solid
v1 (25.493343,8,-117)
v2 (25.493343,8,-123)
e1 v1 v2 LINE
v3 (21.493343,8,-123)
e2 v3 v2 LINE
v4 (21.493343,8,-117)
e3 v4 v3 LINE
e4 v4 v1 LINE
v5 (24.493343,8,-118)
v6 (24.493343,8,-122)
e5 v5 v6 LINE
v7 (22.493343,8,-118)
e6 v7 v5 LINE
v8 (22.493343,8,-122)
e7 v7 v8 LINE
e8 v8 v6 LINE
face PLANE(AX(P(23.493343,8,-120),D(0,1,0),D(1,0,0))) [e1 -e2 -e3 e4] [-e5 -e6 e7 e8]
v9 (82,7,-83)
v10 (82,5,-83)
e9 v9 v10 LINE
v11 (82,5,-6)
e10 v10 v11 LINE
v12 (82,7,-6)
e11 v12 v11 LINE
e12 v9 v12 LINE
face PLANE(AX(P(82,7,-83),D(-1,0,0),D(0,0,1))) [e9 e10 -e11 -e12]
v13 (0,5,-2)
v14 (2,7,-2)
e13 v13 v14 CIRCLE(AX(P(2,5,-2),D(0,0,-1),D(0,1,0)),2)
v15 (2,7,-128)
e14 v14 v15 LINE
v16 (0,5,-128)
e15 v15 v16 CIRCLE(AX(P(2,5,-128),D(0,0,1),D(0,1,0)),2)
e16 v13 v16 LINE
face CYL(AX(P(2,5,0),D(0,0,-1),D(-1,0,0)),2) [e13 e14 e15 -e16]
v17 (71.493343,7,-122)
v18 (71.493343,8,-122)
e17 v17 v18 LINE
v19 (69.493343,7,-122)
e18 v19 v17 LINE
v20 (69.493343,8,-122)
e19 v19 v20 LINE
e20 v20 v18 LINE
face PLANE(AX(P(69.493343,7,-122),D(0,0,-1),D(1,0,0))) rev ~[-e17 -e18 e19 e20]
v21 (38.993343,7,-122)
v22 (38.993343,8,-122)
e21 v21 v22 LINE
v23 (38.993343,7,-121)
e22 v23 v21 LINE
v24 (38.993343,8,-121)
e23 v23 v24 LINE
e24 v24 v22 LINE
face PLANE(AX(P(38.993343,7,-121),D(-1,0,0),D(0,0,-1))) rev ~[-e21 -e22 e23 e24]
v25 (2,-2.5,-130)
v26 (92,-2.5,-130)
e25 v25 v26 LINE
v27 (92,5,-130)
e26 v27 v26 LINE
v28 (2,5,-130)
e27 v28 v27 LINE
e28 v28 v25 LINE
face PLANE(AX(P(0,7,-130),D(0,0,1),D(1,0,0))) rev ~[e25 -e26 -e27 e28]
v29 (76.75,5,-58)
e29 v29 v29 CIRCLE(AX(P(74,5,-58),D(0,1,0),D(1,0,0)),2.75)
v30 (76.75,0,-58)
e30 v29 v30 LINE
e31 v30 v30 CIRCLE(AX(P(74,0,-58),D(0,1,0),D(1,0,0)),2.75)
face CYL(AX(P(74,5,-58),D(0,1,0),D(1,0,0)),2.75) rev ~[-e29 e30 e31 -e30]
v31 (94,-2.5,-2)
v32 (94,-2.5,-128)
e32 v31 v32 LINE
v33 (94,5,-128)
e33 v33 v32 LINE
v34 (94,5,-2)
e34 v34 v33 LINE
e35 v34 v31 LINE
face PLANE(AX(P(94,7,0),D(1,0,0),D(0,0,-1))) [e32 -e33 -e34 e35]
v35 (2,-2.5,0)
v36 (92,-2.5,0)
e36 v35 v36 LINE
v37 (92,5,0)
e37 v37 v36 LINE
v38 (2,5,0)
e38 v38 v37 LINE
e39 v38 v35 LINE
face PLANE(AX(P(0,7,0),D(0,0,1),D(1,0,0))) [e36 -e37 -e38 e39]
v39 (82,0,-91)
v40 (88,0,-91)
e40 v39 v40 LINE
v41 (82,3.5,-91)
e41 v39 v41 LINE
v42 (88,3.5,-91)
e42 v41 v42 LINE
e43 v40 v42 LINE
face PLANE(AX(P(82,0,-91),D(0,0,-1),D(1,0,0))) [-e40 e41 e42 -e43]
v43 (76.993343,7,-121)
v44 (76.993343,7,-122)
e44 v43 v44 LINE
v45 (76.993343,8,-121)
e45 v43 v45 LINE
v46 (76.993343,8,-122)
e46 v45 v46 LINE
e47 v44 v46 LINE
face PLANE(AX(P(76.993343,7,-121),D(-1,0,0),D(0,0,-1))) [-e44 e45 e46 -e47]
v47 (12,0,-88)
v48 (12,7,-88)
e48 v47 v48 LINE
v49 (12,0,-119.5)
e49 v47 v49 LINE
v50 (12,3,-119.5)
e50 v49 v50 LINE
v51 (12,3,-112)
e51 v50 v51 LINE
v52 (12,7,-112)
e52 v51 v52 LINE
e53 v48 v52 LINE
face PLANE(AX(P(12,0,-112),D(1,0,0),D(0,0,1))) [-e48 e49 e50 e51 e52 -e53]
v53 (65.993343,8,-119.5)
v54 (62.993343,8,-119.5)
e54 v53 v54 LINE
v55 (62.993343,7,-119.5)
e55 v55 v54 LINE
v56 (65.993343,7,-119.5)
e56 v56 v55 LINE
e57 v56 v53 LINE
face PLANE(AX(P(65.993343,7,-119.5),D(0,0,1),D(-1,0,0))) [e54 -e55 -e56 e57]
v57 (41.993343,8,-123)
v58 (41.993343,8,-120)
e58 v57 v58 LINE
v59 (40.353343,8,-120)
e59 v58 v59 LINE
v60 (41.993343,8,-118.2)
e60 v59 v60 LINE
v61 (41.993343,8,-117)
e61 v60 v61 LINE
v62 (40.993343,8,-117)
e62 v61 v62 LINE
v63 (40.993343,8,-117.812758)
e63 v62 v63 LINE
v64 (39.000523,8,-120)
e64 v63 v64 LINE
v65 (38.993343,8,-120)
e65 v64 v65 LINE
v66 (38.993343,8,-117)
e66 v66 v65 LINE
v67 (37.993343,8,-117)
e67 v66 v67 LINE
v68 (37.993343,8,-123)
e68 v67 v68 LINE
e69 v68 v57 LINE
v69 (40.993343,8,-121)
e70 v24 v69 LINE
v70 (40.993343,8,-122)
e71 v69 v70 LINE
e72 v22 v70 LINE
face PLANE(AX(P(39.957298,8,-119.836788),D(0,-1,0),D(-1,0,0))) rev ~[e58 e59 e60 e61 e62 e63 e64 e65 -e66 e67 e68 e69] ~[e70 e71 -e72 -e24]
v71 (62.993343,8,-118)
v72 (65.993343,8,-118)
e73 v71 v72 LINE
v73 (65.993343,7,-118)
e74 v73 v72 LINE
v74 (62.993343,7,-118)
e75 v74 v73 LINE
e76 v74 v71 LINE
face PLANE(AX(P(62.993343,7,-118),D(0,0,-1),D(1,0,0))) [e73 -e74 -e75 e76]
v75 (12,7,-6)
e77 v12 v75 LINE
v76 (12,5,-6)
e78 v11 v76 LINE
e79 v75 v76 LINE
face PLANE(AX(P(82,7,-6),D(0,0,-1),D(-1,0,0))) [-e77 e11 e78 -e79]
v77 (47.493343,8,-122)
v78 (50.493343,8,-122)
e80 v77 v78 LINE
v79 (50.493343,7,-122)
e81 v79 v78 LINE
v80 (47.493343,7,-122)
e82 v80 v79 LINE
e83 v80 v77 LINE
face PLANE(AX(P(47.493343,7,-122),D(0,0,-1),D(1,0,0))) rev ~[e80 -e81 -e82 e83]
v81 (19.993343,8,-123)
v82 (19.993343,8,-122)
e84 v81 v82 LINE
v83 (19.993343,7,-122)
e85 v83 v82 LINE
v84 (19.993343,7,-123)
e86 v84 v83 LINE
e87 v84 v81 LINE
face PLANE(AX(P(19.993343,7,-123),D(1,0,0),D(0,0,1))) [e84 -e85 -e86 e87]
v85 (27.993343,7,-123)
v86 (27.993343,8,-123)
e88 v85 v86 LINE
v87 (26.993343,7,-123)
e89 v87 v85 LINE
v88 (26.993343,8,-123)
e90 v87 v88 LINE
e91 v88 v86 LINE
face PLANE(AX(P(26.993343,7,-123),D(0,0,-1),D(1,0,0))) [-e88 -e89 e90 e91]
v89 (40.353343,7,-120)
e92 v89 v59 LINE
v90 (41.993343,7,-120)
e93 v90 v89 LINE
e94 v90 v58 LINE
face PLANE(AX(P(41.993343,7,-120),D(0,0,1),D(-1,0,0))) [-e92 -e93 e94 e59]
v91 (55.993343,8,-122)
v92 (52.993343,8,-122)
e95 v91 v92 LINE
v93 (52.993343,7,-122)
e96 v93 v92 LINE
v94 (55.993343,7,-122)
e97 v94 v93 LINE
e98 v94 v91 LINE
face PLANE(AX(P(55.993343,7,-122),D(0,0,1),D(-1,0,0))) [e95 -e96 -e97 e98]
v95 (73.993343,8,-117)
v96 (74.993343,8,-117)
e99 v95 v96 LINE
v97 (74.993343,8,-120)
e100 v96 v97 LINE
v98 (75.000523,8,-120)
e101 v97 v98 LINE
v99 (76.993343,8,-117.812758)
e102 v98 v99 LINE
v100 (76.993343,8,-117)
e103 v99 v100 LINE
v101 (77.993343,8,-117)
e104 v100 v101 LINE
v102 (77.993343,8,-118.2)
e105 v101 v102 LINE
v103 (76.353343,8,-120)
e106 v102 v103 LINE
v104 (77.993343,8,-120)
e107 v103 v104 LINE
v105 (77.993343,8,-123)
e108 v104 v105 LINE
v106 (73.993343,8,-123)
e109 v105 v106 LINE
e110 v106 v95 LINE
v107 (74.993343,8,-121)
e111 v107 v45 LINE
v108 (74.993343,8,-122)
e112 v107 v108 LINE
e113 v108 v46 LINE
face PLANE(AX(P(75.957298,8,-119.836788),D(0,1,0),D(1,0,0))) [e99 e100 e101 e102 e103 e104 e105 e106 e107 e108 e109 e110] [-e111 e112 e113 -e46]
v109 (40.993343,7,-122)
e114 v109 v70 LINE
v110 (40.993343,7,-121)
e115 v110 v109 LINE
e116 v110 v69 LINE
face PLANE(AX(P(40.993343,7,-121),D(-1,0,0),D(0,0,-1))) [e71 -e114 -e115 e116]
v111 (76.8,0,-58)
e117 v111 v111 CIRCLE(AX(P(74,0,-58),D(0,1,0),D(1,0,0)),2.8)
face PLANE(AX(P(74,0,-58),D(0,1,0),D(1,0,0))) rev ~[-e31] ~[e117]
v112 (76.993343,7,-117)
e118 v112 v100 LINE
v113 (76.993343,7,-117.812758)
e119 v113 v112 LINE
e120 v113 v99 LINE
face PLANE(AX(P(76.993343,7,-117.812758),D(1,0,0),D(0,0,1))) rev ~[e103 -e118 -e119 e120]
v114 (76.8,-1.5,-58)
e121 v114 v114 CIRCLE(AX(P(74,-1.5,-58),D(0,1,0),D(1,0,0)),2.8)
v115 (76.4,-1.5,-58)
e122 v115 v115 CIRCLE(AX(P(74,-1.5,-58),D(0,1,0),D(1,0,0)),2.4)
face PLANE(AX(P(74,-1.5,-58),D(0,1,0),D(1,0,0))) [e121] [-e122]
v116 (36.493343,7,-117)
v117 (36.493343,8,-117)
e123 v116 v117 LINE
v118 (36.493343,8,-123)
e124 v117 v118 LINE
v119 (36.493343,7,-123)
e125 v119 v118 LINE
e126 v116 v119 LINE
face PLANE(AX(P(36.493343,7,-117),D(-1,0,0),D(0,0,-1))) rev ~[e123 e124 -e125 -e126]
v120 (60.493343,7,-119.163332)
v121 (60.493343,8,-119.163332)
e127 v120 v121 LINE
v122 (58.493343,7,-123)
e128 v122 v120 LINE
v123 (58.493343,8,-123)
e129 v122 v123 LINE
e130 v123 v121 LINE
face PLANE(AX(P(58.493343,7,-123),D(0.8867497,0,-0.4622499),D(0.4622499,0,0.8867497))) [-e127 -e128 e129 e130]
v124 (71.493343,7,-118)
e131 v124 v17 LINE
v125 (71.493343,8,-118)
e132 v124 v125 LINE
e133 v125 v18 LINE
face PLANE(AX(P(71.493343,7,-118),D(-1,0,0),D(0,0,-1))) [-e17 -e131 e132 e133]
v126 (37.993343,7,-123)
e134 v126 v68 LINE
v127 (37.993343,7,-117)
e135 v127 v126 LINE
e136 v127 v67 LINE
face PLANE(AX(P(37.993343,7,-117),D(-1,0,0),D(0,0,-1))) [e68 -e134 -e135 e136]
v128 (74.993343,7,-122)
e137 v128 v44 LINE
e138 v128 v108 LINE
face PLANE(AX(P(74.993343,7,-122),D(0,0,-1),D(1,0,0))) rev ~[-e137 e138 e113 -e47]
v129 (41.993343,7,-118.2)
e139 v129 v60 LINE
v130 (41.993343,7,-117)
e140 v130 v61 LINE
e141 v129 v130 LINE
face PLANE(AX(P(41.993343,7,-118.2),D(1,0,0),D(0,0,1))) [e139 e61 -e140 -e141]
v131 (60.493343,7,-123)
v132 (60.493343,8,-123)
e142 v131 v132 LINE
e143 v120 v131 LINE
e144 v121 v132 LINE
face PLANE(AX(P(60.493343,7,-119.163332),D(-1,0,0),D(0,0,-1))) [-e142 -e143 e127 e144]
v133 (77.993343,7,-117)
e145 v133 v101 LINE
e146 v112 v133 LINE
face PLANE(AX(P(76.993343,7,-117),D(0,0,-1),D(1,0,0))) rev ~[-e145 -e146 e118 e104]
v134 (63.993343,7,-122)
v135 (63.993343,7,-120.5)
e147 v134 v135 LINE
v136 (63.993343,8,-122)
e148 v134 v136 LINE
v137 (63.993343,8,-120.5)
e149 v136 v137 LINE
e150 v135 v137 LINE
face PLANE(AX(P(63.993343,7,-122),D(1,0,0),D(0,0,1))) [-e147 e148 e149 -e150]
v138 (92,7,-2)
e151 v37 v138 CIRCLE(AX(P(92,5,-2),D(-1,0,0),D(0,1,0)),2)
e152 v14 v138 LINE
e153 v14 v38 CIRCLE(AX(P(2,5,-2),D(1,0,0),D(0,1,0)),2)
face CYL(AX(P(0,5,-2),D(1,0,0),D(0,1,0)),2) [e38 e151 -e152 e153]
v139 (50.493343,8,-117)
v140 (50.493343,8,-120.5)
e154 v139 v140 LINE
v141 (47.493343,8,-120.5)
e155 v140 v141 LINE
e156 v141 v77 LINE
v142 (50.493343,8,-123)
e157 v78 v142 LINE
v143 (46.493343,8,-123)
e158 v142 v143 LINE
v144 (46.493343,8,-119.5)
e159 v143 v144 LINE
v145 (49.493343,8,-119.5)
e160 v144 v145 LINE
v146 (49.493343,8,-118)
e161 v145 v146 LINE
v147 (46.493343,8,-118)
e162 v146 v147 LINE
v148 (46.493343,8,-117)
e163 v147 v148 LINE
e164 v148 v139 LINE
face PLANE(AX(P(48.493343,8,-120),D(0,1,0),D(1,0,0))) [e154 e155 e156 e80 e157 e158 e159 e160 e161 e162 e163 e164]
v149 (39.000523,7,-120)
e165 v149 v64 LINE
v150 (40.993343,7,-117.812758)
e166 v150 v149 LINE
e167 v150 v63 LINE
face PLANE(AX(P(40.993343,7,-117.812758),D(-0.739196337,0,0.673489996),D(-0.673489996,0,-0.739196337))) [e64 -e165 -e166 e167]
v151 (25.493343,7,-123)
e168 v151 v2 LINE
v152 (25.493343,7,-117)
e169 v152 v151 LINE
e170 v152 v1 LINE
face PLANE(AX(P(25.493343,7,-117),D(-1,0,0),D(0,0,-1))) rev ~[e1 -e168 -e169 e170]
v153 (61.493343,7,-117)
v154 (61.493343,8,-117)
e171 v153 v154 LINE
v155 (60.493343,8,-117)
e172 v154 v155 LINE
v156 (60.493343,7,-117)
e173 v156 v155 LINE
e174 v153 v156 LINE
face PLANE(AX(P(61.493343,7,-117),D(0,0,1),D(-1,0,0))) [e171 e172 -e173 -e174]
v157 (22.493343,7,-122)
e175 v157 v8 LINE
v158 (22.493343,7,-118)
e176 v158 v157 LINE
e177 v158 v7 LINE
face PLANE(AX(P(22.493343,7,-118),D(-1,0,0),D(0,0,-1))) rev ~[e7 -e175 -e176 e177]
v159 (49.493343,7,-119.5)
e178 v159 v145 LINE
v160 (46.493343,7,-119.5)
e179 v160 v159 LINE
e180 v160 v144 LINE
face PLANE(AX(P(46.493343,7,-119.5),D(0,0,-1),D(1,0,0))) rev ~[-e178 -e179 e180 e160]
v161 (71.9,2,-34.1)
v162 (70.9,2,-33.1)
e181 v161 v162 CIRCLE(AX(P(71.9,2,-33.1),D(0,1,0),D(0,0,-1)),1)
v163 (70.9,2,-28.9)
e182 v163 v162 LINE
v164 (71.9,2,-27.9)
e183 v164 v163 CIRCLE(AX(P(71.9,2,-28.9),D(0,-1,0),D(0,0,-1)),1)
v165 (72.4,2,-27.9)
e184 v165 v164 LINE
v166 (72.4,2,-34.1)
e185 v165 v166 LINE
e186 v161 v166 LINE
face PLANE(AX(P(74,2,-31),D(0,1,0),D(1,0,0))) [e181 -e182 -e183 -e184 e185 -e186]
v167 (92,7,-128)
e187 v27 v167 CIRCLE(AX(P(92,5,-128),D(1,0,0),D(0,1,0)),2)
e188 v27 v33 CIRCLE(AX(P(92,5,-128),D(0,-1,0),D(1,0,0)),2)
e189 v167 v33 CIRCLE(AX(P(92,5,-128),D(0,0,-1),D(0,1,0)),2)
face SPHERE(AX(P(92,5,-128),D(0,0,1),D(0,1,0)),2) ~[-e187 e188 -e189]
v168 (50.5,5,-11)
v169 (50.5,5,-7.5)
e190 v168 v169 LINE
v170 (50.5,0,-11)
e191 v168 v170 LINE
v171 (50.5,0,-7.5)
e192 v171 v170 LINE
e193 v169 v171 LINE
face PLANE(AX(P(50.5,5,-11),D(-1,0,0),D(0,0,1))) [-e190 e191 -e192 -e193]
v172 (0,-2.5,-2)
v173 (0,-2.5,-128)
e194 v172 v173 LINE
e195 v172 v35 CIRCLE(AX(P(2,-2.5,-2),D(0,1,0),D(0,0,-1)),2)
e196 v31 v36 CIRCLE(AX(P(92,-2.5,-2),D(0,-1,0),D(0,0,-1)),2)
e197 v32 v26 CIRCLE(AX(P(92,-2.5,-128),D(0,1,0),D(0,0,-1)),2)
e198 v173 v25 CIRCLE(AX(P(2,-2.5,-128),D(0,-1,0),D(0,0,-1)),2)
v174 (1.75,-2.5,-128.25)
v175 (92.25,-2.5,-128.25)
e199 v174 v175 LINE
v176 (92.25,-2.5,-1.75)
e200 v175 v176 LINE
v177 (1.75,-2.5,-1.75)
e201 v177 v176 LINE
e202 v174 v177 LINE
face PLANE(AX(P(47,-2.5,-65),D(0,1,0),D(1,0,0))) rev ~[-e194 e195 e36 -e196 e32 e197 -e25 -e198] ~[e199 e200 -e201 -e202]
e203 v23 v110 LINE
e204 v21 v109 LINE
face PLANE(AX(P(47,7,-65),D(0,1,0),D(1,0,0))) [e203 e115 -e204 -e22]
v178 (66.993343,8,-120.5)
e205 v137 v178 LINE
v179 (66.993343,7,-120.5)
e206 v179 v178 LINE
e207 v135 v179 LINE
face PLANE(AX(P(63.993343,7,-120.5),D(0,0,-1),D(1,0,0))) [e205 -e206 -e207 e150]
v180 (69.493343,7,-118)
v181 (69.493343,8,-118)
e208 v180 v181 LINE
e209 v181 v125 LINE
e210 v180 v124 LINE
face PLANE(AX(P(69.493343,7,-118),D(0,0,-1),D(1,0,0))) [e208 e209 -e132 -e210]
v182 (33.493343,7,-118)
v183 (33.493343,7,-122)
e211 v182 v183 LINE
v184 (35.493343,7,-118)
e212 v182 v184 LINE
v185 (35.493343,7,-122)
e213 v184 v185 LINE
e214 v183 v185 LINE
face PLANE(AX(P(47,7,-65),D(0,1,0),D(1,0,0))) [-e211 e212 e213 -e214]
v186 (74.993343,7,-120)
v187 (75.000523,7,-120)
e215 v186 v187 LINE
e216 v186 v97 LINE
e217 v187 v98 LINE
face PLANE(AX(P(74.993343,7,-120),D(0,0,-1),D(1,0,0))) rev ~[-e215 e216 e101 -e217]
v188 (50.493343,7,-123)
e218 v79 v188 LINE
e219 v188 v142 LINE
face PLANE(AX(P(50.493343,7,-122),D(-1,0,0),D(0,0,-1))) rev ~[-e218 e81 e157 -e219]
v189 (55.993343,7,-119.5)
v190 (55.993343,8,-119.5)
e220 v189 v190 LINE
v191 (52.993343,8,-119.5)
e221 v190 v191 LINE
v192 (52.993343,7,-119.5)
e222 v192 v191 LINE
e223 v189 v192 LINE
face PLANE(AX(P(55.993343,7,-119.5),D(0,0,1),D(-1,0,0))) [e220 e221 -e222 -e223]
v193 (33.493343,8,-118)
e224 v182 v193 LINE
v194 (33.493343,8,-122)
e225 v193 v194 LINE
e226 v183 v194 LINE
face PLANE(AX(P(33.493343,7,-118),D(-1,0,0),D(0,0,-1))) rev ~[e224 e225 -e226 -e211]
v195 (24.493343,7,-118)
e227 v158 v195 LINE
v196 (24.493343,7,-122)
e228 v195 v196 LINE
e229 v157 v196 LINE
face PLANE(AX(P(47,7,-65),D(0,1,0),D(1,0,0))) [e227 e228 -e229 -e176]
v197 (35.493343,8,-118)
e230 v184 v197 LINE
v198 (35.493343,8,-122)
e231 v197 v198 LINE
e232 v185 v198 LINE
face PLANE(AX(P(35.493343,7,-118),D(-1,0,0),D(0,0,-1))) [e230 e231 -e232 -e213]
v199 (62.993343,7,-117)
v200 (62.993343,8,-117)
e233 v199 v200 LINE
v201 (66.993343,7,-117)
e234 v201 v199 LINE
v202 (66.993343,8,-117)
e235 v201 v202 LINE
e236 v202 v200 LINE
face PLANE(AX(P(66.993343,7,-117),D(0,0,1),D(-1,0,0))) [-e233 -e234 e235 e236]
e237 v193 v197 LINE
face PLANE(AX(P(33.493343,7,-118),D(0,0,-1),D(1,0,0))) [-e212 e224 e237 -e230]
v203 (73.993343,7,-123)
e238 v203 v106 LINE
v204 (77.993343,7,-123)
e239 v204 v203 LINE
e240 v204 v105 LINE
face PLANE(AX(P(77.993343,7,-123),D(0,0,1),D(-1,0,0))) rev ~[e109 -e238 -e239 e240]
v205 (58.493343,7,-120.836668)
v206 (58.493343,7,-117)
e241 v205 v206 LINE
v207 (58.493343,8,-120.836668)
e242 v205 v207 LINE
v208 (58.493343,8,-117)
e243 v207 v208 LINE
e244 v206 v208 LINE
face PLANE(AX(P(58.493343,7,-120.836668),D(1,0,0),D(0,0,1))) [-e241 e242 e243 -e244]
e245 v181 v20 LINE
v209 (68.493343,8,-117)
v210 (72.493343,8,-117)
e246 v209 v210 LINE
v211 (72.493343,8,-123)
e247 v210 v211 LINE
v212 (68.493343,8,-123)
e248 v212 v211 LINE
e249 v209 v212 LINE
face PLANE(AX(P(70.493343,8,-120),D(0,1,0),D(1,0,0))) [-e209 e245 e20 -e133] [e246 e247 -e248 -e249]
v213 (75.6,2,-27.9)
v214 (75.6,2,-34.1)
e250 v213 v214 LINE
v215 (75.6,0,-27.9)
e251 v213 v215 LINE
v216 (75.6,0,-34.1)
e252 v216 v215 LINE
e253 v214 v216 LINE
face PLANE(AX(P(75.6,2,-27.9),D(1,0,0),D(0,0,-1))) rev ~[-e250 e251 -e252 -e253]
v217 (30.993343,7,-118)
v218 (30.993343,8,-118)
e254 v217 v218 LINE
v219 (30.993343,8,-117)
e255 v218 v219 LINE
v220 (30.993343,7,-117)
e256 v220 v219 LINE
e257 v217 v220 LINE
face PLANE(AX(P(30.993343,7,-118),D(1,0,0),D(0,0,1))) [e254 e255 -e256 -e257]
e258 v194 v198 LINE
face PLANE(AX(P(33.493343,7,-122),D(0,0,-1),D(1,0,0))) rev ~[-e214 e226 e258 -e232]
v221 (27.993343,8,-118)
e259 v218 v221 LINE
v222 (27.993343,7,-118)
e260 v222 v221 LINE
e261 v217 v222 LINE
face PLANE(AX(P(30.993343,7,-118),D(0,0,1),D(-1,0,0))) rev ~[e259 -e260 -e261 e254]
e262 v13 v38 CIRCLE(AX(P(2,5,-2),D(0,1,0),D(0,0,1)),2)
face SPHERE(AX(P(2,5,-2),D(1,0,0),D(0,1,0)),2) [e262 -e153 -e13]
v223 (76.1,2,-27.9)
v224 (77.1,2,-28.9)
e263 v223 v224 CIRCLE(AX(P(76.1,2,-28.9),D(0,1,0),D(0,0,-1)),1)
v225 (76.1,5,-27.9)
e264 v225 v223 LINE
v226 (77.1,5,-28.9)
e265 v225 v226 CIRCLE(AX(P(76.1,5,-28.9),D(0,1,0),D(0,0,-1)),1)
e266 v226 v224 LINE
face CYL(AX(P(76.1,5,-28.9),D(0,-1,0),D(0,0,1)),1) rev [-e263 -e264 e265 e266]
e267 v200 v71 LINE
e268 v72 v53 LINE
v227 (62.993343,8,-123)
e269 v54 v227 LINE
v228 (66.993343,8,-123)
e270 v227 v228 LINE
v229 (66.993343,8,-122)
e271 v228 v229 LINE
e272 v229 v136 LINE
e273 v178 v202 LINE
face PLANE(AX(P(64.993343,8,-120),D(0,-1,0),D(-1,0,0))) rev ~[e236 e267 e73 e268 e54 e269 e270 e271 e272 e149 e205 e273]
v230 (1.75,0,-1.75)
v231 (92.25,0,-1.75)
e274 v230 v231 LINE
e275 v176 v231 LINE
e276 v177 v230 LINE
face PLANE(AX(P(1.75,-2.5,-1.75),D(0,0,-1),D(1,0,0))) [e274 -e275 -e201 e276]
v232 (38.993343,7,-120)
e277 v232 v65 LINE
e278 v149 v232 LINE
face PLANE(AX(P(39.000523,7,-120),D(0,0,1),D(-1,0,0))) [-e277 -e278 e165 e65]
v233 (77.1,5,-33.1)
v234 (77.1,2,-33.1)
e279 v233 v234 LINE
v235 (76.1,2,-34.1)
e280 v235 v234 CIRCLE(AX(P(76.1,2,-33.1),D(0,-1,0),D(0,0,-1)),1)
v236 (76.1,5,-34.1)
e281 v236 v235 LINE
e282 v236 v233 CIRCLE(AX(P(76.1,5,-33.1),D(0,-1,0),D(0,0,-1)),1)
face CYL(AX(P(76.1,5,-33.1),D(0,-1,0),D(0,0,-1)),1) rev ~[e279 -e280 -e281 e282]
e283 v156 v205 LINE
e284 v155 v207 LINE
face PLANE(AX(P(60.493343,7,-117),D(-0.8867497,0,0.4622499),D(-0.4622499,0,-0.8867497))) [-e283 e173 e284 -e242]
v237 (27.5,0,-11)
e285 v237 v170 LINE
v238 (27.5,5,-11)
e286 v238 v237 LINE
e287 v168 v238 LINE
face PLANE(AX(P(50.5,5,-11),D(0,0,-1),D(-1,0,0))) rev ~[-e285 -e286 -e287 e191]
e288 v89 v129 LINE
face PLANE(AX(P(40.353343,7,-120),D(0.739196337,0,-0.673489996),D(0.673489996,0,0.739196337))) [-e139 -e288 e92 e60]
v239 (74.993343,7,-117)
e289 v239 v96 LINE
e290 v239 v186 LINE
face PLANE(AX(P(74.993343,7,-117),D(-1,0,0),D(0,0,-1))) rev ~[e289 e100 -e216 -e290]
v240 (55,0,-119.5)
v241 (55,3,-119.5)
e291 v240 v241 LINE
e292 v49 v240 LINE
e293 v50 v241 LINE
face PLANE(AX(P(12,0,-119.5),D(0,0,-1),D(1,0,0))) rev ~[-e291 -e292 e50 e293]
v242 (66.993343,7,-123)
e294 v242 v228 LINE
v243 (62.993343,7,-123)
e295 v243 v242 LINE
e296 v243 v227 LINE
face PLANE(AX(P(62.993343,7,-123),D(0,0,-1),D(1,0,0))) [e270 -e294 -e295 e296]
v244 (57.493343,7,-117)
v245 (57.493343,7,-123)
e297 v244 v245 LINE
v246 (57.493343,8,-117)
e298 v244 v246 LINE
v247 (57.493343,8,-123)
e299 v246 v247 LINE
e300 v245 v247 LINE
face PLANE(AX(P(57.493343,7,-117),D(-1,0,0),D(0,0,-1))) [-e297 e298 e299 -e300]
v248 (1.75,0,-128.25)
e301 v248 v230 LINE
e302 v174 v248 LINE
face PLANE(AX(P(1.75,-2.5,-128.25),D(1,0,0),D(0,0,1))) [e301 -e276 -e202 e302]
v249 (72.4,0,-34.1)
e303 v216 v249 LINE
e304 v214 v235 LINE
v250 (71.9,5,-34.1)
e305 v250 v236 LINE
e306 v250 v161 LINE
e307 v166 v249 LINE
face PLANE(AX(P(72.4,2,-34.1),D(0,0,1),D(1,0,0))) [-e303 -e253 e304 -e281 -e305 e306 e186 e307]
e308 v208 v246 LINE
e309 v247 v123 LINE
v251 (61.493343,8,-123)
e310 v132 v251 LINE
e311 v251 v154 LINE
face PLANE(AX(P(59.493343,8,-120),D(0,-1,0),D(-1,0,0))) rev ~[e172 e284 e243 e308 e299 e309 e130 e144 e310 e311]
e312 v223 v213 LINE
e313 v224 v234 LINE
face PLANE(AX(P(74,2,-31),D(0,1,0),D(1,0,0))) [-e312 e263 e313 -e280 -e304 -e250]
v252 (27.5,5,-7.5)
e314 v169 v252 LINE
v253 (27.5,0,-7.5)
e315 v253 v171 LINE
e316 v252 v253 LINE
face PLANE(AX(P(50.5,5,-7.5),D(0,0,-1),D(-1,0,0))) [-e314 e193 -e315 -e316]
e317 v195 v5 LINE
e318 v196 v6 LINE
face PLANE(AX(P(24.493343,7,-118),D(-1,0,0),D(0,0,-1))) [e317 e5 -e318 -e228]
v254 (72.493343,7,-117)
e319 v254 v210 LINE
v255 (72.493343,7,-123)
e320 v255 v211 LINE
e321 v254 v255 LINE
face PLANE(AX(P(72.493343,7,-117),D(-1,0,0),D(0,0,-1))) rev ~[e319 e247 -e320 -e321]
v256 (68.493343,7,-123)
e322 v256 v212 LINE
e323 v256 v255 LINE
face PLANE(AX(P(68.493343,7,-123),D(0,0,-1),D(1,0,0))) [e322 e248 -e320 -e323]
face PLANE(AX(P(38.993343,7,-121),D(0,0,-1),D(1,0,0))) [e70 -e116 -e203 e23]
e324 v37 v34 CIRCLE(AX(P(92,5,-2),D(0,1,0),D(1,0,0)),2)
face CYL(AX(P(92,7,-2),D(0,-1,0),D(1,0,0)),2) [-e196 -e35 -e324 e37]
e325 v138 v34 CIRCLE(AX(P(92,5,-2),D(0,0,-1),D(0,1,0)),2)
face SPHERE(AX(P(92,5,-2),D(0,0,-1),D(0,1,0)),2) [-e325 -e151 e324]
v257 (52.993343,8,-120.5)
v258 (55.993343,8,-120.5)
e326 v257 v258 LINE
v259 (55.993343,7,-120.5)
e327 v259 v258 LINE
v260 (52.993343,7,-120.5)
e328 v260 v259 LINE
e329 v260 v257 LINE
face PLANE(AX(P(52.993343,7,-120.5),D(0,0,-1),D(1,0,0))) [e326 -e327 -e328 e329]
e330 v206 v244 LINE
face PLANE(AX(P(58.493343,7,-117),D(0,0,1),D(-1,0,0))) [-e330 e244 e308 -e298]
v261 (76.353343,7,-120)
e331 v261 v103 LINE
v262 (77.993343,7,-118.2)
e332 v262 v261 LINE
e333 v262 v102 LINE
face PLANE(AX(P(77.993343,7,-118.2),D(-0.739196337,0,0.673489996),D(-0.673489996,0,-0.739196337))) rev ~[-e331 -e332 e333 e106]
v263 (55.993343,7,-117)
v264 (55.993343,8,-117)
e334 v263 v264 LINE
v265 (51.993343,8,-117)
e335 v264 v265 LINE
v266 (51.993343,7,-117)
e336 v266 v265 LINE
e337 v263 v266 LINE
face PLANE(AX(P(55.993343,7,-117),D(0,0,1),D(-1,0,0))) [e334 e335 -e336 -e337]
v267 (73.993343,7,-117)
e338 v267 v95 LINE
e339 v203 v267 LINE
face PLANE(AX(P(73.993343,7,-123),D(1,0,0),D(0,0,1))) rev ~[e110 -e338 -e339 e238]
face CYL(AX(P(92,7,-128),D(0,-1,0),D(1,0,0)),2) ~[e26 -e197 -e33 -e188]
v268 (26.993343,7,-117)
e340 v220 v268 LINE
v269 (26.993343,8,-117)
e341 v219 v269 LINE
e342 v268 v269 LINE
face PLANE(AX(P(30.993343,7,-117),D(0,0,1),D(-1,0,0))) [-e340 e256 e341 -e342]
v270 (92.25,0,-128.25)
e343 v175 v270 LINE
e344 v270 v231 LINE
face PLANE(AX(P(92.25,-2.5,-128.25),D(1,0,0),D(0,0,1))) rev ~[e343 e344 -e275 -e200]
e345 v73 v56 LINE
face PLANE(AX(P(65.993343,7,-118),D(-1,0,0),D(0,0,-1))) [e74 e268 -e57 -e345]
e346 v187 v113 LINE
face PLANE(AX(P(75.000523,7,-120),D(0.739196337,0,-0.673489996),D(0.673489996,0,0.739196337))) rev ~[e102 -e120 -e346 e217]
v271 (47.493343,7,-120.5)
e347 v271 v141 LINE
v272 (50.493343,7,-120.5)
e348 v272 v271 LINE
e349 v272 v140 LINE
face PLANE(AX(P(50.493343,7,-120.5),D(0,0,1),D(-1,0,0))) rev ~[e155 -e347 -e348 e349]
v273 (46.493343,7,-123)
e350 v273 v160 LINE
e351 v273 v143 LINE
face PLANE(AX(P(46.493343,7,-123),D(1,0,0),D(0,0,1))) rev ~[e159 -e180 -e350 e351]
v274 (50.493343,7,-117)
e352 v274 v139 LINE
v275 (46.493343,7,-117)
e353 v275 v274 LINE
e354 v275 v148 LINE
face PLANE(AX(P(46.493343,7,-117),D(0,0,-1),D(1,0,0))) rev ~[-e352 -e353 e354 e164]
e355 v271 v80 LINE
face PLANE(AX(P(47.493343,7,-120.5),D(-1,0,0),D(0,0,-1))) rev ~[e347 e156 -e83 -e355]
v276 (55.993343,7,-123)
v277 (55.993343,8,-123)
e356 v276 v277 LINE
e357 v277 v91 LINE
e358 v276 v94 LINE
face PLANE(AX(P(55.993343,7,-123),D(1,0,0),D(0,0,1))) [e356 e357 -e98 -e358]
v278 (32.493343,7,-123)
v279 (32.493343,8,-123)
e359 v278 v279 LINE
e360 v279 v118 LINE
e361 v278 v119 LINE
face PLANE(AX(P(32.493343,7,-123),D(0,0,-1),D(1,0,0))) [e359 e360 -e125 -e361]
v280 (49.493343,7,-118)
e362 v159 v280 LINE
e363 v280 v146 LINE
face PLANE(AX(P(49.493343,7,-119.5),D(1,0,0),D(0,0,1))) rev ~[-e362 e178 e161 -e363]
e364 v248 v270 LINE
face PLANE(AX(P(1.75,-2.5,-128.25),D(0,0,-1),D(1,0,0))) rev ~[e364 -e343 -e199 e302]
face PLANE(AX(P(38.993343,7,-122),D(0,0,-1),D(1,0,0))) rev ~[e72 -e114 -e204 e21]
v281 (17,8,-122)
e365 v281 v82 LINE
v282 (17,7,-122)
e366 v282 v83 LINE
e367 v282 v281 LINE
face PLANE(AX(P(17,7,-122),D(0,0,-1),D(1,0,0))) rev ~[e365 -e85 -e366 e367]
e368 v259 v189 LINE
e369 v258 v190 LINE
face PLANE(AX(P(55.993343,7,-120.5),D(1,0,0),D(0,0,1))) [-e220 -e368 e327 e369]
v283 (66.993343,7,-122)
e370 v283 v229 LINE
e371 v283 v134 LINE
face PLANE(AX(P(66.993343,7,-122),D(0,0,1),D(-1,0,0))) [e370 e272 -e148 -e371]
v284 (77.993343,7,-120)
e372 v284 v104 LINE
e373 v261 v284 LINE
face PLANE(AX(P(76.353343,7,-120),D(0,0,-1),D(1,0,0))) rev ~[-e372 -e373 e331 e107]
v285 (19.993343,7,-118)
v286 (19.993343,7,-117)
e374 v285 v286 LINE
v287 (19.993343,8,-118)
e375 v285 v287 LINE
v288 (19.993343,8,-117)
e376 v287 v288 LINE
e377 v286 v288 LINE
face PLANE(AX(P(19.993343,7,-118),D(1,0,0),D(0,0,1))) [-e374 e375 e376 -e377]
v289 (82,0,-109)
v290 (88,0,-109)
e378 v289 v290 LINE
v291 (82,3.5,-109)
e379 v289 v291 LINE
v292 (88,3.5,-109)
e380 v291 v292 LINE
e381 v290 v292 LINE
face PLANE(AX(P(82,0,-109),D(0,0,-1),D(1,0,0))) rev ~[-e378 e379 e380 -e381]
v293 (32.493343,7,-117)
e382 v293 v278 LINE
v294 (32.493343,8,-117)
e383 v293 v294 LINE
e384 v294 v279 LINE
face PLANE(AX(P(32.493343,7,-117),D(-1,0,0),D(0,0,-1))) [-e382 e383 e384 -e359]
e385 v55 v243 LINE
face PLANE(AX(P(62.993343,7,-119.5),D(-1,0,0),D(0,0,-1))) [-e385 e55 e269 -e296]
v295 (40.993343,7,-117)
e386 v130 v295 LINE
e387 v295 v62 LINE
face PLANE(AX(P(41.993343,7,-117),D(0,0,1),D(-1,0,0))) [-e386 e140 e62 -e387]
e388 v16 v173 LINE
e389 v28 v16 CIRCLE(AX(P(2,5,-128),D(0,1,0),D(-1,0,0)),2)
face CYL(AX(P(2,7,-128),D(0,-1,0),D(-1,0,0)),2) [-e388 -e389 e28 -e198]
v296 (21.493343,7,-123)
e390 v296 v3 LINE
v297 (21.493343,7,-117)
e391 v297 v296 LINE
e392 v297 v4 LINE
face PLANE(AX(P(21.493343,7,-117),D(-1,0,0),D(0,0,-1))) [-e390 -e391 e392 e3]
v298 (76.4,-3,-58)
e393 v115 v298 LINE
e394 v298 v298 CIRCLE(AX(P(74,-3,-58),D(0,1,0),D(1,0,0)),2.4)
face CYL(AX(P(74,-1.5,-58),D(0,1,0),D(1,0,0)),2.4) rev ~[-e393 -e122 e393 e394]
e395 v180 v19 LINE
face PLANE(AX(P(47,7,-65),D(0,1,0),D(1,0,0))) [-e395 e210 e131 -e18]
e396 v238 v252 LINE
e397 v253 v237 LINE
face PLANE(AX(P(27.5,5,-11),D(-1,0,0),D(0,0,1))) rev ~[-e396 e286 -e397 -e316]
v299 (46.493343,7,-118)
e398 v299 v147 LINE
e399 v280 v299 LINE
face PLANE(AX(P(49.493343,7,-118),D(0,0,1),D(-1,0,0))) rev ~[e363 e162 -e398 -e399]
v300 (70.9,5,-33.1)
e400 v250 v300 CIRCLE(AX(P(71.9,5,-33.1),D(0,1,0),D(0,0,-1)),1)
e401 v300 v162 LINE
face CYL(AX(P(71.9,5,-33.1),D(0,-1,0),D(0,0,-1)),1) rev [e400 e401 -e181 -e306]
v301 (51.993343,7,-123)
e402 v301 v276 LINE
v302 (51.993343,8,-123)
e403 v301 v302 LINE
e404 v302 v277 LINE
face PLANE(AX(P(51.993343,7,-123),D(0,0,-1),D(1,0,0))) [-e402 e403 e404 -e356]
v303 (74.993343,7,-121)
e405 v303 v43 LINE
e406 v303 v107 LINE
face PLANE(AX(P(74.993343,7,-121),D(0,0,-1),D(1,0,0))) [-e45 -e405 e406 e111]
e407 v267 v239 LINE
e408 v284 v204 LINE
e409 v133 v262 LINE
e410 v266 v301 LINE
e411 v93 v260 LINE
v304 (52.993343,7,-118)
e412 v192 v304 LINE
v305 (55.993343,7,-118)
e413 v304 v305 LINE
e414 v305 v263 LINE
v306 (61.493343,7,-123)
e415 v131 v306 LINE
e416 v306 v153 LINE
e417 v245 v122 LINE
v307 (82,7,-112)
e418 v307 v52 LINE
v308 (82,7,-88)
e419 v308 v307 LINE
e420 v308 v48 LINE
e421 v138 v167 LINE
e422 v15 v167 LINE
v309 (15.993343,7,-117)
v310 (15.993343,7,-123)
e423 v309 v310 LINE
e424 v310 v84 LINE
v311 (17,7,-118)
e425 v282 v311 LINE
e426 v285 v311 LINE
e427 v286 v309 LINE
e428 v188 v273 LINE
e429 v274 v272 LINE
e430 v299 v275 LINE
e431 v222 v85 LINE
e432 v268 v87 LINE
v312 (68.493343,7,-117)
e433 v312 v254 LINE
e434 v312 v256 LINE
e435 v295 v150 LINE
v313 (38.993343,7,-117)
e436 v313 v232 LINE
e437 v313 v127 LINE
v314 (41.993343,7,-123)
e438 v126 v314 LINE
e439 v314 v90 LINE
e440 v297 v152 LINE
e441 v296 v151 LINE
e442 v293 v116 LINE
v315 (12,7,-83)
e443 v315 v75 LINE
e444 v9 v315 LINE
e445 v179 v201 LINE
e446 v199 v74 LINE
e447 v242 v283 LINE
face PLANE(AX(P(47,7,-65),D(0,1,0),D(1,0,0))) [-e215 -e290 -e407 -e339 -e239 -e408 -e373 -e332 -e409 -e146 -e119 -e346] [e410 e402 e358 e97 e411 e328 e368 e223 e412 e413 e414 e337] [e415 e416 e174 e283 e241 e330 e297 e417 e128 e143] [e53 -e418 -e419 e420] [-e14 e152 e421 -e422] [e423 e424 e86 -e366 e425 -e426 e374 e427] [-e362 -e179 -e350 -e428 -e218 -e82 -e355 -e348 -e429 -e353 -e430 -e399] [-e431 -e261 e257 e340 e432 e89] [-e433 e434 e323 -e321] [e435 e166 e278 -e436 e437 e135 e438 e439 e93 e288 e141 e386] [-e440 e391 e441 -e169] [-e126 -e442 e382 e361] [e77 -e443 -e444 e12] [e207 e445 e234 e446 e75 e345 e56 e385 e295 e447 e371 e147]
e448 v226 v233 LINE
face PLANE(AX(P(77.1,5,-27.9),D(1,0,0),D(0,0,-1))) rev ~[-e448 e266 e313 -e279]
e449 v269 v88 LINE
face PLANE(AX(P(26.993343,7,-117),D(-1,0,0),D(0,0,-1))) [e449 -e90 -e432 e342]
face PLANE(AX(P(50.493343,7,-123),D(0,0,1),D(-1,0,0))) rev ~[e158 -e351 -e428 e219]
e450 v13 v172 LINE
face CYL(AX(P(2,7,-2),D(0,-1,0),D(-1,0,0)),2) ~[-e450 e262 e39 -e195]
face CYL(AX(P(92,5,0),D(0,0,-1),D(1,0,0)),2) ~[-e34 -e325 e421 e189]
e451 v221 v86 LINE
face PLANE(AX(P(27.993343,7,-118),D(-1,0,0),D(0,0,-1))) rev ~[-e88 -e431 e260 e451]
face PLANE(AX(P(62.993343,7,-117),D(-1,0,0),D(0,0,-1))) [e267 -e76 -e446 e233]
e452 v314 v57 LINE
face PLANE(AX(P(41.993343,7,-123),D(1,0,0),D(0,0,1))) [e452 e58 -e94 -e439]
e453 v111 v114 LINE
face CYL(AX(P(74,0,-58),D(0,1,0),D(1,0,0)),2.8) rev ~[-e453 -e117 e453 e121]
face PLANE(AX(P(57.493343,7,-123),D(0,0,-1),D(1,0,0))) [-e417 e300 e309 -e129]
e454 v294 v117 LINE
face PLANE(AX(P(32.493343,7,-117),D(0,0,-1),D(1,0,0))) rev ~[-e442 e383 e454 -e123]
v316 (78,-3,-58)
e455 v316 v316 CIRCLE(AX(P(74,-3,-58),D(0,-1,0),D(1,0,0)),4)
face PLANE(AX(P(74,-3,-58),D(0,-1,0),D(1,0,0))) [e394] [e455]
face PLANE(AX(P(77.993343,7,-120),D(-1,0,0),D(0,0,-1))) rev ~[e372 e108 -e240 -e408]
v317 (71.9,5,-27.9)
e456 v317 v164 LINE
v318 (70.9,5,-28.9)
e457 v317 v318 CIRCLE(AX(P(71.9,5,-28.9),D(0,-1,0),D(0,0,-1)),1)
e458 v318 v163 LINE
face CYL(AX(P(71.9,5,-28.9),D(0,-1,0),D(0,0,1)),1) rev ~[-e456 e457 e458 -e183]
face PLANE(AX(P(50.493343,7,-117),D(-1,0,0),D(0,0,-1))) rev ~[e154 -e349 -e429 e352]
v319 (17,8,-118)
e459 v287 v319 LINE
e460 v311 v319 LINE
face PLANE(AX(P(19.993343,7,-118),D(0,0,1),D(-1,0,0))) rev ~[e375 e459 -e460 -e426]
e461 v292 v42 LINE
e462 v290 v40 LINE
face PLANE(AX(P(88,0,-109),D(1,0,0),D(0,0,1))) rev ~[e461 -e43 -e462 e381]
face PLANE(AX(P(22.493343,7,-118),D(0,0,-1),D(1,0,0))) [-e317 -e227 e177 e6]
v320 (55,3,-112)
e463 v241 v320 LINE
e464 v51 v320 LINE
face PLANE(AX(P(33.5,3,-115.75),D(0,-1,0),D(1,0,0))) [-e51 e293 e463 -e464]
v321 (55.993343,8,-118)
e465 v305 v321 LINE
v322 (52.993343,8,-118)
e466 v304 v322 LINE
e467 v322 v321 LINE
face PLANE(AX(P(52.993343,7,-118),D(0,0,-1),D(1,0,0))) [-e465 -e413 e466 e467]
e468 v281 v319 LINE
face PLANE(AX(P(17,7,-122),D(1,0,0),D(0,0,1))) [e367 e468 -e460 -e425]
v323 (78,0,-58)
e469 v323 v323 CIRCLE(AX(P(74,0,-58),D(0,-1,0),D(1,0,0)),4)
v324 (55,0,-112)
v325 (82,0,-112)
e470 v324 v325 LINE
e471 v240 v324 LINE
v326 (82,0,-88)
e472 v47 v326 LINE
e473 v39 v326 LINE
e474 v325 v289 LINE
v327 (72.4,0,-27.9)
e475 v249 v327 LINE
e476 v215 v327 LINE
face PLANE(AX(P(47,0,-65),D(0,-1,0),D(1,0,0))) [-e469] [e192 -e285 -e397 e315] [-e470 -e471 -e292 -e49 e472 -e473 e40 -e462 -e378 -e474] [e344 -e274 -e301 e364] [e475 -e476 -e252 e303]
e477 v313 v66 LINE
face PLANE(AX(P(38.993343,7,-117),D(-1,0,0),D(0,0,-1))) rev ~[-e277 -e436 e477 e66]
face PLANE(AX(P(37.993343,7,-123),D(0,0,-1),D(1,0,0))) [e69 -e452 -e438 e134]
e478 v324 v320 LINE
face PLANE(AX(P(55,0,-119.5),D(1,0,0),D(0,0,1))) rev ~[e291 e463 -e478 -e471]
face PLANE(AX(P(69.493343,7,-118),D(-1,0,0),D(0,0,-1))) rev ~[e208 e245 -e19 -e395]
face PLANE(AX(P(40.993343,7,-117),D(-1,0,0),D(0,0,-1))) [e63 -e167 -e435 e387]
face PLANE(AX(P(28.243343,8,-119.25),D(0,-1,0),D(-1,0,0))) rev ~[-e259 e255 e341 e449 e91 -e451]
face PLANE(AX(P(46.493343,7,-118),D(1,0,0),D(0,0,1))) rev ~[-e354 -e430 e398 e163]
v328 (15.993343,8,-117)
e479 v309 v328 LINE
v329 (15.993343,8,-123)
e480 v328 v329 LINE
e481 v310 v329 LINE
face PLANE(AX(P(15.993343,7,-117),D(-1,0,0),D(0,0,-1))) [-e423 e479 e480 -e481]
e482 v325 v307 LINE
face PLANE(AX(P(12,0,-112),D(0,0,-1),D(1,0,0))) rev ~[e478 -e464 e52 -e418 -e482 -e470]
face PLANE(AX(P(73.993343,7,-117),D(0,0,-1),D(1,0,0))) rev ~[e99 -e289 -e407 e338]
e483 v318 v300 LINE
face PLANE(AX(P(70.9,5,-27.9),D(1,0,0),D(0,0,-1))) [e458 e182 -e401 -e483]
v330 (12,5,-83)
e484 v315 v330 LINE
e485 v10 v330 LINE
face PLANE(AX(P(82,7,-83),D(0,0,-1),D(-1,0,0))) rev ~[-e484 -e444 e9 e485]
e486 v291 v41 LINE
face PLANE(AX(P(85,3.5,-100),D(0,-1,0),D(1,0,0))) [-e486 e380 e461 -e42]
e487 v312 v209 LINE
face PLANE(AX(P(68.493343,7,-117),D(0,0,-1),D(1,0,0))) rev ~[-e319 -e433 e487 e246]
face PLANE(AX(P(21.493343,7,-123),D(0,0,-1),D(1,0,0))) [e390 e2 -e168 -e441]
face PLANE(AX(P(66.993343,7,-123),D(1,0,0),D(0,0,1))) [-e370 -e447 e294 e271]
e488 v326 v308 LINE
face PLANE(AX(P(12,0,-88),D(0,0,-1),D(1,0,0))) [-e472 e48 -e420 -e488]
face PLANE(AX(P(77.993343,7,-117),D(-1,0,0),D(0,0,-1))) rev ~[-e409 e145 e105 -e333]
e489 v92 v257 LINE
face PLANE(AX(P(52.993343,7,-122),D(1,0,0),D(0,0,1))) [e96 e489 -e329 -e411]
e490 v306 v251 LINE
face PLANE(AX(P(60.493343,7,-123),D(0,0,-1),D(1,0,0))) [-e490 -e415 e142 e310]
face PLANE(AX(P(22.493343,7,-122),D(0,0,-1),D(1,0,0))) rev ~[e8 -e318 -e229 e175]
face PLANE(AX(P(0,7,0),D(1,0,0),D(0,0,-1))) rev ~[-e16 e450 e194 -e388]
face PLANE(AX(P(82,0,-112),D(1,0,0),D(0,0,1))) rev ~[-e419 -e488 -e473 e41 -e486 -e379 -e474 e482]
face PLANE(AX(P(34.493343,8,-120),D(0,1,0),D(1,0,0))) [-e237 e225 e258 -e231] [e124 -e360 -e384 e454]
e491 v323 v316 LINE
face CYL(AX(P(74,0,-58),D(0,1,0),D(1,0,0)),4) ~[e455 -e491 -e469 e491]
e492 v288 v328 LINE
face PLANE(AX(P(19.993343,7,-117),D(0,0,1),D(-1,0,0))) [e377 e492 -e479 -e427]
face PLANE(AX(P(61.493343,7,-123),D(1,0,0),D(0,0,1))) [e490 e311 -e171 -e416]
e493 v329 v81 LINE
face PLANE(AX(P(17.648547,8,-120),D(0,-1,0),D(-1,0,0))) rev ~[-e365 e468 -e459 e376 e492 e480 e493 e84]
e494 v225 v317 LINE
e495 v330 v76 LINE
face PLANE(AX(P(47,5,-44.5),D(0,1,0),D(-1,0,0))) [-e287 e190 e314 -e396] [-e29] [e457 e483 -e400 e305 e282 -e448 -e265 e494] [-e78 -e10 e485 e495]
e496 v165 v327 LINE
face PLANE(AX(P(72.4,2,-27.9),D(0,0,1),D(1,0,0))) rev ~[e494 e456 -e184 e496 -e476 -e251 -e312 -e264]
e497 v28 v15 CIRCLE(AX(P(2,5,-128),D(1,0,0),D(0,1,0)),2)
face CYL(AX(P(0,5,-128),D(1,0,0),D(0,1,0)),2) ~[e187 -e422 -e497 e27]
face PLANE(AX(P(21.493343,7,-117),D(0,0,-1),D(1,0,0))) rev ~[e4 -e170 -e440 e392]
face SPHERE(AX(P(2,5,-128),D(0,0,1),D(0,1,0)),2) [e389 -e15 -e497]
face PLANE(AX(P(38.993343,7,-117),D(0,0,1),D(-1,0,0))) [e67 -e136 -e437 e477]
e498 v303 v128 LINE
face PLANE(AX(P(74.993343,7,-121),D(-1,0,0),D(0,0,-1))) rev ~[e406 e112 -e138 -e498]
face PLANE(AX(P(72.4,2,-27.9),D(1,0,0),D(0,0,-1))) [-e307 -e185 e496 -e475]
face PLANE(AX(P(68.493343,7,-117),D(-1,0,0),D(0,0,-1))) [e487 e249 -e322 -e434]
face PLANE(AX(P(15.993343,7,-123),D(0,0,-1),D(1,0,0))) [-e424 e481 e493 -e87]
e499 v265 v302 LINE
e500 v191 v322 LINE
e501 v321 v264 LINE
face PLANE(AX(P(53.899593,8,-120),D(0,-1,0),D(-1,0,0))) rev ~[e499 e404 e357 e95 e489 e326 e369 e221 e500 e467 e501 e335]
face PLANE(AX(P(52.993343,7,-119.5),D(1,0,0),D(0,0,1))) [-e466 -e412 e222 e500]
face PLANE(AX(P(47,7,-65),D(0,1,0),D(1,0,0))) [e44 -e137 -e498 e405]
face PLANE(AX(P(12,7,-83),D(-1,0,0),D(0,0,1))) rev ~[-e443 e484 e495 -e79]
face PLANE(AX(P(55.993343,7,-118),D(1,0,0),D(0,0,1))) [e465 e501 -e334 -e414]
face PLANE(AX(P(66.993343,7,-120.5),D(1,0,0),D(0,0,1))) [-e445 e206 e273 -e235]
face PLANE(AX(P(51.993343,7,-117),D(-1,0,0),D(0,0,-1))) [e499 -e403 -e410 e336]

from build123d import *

# Parameters (mm, degrees)
SKETCH1_W                = 94
SKETCH1_H                = 130
BOSS_EXTRUDE1_DEPTH      = 9.5
SKETCH2_W                = 90.5
SKETCH2_H                = 126.5
CUT_EXTRUDE1_DEPTH       = 2.5
SKETCH3_W                = 70
SKETCH3_H                = 24
CUT_EXTRUDE2_DEPTH       = 8
SKETCH4_W                = 70
SKETCH4_H                = 77
CUT_EXTRUDE3_DEPTH       = 2
SKETCH5_W                = 23
SKETCH5_H                = 3.5
CUT_EXTRUDE4_DEPTH       = 8.5
SKETCH6_W                = 6
SKETCH6_H                = 18
CUT_EXTRUDE5_DEPTH       = 3.5
SKETCH7_W                = 43
SKETCH7_H                = 7.5
CUT_EXTRUDE6_DEPTH       = 3
FILLET1_R                = 2
SKETCH9_R                = 2.75
CUT_EXTRUDE7_DEPTH       = 5
SKETCH12_W               = 6.2
SKETCH12_H               = 6.2
CUT_EXTRUDE9_DEPTH       = 3
SKETCH13_W               = 3.2
SKETCH13_H               = 6.2
CUT_EXTRUDE10_DEPTH      = 6
CUT_EXTRUDE10_DEPTH_BACK = 5.5
FILLET2_R                = 1
SKETCH14_R               = 4
BOSS_EXTRUDE2_DEPTH      = 3
SKETCH15_R               = 2.8
CUT_EXTRUDE11_DEPTH      = 1.5
SKETCH16_R               = 2.4
CUT_EXTRUDE12_DEPTH      = 1.5
SKETCH18_W               = 4
SKETCH18_H               = 6
SKETCH18_W_2             = 2
SKETCH18_H_2             = 4
SKETCH18_H_3             = 1
BOSS_EXTRUDE3_DEPTH      = 1


with BuildPart() as part:
    # Sketch1 → Boss-Extrude1 (new body)
    with BuildSketch(Plane(origin=(0, 7, 0), x_dir=(1, 0, 0), z_dir=(0, 1, 0))):
        with Locations((47, 65)):
            Rectangle(SKETCH1_W, SKETCH1_H)
    extrude(amount=-BOSS_EXTRUDE1_DEPTH)

    # Sketch2 → Cut-Extrude1 (cut)
    with BuildSketch(Plane.XZ.offset(2.5)):
        with Locations((47, -65)):
            Rectangle(SKETCH2_W, SKETCH2_H)
    extrude(amount=-CUT_EXTRUDE1_DEPTH, mode=Mode.SUBTRACT)

    # Sketch3 → Cut-Extrude2 (cut, through all)
    with BuildSketch(Plane.XZ):
        with Locations((47, -100)):
            Rectangle(SKETCH3_W, SKETCH3_H)
    extrude(amount=-CUT_EXTRUDE2_DEPTH, mode=Mode.SUBTRACT)

    # Sketch4 → Cut-Extrude3 (cut)
    with BuildSketch(Plane(origin=(0, 7, 0), x_dir=(-1, 0, 0), z_dir=(0, 1, 0))):
        with Locations((-47, -44.5)):
            Rectangle(SKETCH4_W, SKETCH4_H)
    extrude(amount=-CUT_EXTRUDE3_DEPTH, mode=Mode.SUBTRACT)

    # Sketch5 → Cut-Extrude4 (cut, through all)
    with BuildSketch(Plane(origin=(0, 5, 0), x_dir=(-1, 0, 0), z_dir=(0, 1, 0))):
        with Locations((-39, -9.25)):
            Rectangle(SKETCH5_W, SKETCH5_H)
    extrude(amount=-CUT_EXTRUDE4_DEPTH, mode=Mode.SUBTRACT)

    # Sketch6 → Cut-Extrude5 (cut)
    with BuildSketch(Plane.XZ):
        with Locations((85, -100)):
            Rectangle(SKETCH6_W, SKETCH6_H)
    extrude(amount=-CUT_EXTRUDE5_DEPTH, mode=Mode.SUBTRACT)

    # Sketch7 → Cut-Extrude6 (cut)
    with BuildSketch(Plane.XZ):
        with Locations((33.5, -115.75)):
            Rectangle(SKETCH7_W, SKETCH7_H)
    extrude(amount=-CUT_EXTRUDE6_DEPTH, mode=Mode.SUBTRACT)

    # Fillet1
    fillet1_edges = [part.edges().sort_by_distance(p)[0] for p in [
        (94, 7, -65),
        (47, 7, 0),
        (0, 7, -65),
        (47, 7, -130),
        (94, 2.25, -130),
        (94, 2.25, 0),
        (0, 2.25, 0),
        (0, 2.25, -130),
    ]]
    fillet(fillet1_edges, radius=FILLET1_R)

    # Sketch9 → Cut-Extrude7 (cut)
    with BuildSketch(Plane(origin=(0, 5, 0), x_dir=(1, 0, 0), z_dir=(0, 1, 0))):
        with Locations((74, 58)):
            Circle(SKETCH9_R)
    extrude(amount=-CUT_EXTRUDE7_DEPTH, mode=Mode.SUBTRACT)

    # Sketch12 → Cut-Extrude9 (cut)
    with BuildSketch(Plane(origin=(0, 5, 0), x_dir=(1, 0, 0), z_dir=(0, 1, 0))):
        with Locations((74, 31)):
            Rectangle(SKETCH12_W, SKETCH12_H)
    extrude(amount=-CUT_EXTRUDE9_DEPTH, mode=Mode.SUBTRACT)

    # Sketch13 → Cut-Extrude10 (cut, two sides)
    with BuildSketch(Plane(origin=(0, 2, 0), x_dir=(1, 0, 0), z_dir=(0, 1, 0))) as cut_extrude10_sk:
        with Locations((74, 31)):
            Rectangle(SKETCH13_W, SKETCH13_H)
    extrude(amount=CUT_EXTRUDE10_DEPTH, mode=Mode.SUBTRACT)
    extrude(cut_extrude10_sk.sketch, amount=-CUT_EXTRUDE10_DEPTH_BACK, mode=Mode.SUBTRACT)

    # Fillet2
    fillet2_edges = [part.edges().sort_by_distance(p)[0] for p in [
        (77.1, 3.5, -34.1),
        (77.1, 3.5, -27.9),
        (70.9, 3.5, -27.9),
        (70.9, 3.5, -34.1),
    ]]
    fillet(fillet2_edges, radius=FILLET2_R)

    # Sketch14 → Boss-Extrude2 (add)
    with BuildSketch(Plane.XZ):
        with Locations((74, -58)):
            Circle(SKETCH14_R)
    extrude(amount=BOSS_EXTRUDE2_DEPTH)

    # Sketch15 → Cut-Extrude11 (cut)
    with BuildSketch(Plane(origin=(0, 0, 0), x_dir=(1, 0, 0), z_dir=(0, 1, 0))):
        with Locations((74, 58)):
            Circle(SKETCH15_R)
    extrude(amount=-CUT_EXTRUDE11_DEPTH, mode=Mode.SUBTRACT)

    # Sketch16 → Cut-Extrude12 (cut)
    with BuildSketch(Plane(origin=(0, -1.5, 0), x_dir=(1, 0, 0), z_dir=(0, 1, 0))):
        with Locations((74, 58)):
            Circle(SKETCH16_R)
    extrude(amount=-CUT_EXTRUDE12_DEPTH, mode=Mode.SUBTRACT)

    # Sketch18 → Boss-Extrude3 (add)
    with BuildSketch(Plane(origin=(0, 7, 0), x_dir=(1, 0, 0), z_dir=(0, 1, 0))):
        Polygon((17, 122), (17, 118), (19, 118), (19.993343468, 118), (19.993343468, 117), (15.993343468, 117), (15.993343468, 123), (19.993343468, 123), (19.993343468, 122), (19, 122), align=None)
        Polygon((66.993343468, 122), (63.993343468, 122), (63.993343468, 120.5), (66.993343468, 120.5), (66.993343468, 117), (62.993343468, 117), (62.993343468, 118), (65.993343468, 118), (65.993343468, 119.5), (62.993343468, 119.5), (62.993343468, 123), (66.993343468, 123), align=None)
        with Locations((23.493343468, 120)):
            Rectangle(SKETCH18_W, SKETCH18_H)
        with Locations((23.493343468, 120)):
            Rectangle(SKETCH18_W_2, SKETCH18_H_2, mode=Mode.SUBTRACT)
        Polygon((27.993343468, 122), (27.993343468, 118), (29.109404955, 118), (30.993343468, 118), (30.993343468, 117), (26.993343468, 117), (26.993343468, 123), (27.993343468, 123), align=None)
        with Locations((34.493343468, 120)):
            Rectangle(SKETCH18_W, SKETCH18_H)
        with Locations((34.493343468, 120)):
            Rectangle(SKETCH18_W_2, SKETCH18_H_2, mode=Mode.SUBTRACT)
        Polygon((49.493343468, 122), (50.493343468, 122), (50.493343468, 123), (46.493343468, 123), (46.493343468, 119.5), (47.493343468, 119.5), (49.493343468, 119.5), (49.493343468, 118), (47.956084084, 118), (46.493343468, 118), (46.493343468, 117), (50.493343468, 117), (50.493343468, 120.5), (49.493343468, 120.5), (47.493343468, 120.5), (47.493343468, 122), align=None)
        Polygon((37.993343468, 123), (41.993343468, 123), (41.993343468, 120), (40.353343468, 120), (41.993343468, 118.2), (41.993343468, 117), (40.993343468, 117), (40.993343468, 117.812757926), (39.000522912, 120), (38.993343468, 120), (38.993343468, 118.442496016), (38.993343468, 117), (37.993343468, 117), align=None)
        with Locations((39.993343468, 121.5)):
            Rectangle(SKETCH18_W_2, SKETCH18_H_3, mode=Mode.SUBTRACT)
        Polygon((55.993343468, 122), (52.993343468, 122), (52.993343468, 120.5), (55.993343468, 120.5), (55.993343468, 119.5), (52.993343468, 119.5), (52.993343468, 118), (55.993343468, 118), (55.993343468, 117), (51.993343468, 117), (51.993343468, 123), (55.993343468, 123), align=None)
        Polygon((58.493343468, 123), (60.493343468, 119.163331999), (60.493343468, 123), (61.493343468, 123), (61.493343468, 117), (60.493343468, 117), (58.493343468, 120.836668001), (58.493343468, 117), (57.493343468, 117), (57.493343468, 123), align=None)
        with Locations((70.493343468, 120)):
            Rectangle(SKETCH18_W, SKETCH18_H)
        with Locations((70.493343468, 120)):
            Rectangle(SKETCH18_W_2, SKETCH18_H_2, mode=Mode.SUBTRACT)
        Polygon((74.993343468, 117), (74.993343468, 120), (75.000522912, 120), (76.993343468, 117.812757926), (76.993343468, 117), (77.993343468, 117), (77.993343468, 118.2), (76.353343468, 120), (77.993343468, 120), (77.993343468, 123), (73.993343468, 123), (73.993343468, 117), align=None)
        with Locations((75.993343468, 121.5)):
            Rectangle(SKETCH18_W_2, SKETCH18_H_3, mode=Mode.SUBTRACT)
    extrude(amount=BOSS_EXTRUDE3_DEPTH)


solid = part.part
